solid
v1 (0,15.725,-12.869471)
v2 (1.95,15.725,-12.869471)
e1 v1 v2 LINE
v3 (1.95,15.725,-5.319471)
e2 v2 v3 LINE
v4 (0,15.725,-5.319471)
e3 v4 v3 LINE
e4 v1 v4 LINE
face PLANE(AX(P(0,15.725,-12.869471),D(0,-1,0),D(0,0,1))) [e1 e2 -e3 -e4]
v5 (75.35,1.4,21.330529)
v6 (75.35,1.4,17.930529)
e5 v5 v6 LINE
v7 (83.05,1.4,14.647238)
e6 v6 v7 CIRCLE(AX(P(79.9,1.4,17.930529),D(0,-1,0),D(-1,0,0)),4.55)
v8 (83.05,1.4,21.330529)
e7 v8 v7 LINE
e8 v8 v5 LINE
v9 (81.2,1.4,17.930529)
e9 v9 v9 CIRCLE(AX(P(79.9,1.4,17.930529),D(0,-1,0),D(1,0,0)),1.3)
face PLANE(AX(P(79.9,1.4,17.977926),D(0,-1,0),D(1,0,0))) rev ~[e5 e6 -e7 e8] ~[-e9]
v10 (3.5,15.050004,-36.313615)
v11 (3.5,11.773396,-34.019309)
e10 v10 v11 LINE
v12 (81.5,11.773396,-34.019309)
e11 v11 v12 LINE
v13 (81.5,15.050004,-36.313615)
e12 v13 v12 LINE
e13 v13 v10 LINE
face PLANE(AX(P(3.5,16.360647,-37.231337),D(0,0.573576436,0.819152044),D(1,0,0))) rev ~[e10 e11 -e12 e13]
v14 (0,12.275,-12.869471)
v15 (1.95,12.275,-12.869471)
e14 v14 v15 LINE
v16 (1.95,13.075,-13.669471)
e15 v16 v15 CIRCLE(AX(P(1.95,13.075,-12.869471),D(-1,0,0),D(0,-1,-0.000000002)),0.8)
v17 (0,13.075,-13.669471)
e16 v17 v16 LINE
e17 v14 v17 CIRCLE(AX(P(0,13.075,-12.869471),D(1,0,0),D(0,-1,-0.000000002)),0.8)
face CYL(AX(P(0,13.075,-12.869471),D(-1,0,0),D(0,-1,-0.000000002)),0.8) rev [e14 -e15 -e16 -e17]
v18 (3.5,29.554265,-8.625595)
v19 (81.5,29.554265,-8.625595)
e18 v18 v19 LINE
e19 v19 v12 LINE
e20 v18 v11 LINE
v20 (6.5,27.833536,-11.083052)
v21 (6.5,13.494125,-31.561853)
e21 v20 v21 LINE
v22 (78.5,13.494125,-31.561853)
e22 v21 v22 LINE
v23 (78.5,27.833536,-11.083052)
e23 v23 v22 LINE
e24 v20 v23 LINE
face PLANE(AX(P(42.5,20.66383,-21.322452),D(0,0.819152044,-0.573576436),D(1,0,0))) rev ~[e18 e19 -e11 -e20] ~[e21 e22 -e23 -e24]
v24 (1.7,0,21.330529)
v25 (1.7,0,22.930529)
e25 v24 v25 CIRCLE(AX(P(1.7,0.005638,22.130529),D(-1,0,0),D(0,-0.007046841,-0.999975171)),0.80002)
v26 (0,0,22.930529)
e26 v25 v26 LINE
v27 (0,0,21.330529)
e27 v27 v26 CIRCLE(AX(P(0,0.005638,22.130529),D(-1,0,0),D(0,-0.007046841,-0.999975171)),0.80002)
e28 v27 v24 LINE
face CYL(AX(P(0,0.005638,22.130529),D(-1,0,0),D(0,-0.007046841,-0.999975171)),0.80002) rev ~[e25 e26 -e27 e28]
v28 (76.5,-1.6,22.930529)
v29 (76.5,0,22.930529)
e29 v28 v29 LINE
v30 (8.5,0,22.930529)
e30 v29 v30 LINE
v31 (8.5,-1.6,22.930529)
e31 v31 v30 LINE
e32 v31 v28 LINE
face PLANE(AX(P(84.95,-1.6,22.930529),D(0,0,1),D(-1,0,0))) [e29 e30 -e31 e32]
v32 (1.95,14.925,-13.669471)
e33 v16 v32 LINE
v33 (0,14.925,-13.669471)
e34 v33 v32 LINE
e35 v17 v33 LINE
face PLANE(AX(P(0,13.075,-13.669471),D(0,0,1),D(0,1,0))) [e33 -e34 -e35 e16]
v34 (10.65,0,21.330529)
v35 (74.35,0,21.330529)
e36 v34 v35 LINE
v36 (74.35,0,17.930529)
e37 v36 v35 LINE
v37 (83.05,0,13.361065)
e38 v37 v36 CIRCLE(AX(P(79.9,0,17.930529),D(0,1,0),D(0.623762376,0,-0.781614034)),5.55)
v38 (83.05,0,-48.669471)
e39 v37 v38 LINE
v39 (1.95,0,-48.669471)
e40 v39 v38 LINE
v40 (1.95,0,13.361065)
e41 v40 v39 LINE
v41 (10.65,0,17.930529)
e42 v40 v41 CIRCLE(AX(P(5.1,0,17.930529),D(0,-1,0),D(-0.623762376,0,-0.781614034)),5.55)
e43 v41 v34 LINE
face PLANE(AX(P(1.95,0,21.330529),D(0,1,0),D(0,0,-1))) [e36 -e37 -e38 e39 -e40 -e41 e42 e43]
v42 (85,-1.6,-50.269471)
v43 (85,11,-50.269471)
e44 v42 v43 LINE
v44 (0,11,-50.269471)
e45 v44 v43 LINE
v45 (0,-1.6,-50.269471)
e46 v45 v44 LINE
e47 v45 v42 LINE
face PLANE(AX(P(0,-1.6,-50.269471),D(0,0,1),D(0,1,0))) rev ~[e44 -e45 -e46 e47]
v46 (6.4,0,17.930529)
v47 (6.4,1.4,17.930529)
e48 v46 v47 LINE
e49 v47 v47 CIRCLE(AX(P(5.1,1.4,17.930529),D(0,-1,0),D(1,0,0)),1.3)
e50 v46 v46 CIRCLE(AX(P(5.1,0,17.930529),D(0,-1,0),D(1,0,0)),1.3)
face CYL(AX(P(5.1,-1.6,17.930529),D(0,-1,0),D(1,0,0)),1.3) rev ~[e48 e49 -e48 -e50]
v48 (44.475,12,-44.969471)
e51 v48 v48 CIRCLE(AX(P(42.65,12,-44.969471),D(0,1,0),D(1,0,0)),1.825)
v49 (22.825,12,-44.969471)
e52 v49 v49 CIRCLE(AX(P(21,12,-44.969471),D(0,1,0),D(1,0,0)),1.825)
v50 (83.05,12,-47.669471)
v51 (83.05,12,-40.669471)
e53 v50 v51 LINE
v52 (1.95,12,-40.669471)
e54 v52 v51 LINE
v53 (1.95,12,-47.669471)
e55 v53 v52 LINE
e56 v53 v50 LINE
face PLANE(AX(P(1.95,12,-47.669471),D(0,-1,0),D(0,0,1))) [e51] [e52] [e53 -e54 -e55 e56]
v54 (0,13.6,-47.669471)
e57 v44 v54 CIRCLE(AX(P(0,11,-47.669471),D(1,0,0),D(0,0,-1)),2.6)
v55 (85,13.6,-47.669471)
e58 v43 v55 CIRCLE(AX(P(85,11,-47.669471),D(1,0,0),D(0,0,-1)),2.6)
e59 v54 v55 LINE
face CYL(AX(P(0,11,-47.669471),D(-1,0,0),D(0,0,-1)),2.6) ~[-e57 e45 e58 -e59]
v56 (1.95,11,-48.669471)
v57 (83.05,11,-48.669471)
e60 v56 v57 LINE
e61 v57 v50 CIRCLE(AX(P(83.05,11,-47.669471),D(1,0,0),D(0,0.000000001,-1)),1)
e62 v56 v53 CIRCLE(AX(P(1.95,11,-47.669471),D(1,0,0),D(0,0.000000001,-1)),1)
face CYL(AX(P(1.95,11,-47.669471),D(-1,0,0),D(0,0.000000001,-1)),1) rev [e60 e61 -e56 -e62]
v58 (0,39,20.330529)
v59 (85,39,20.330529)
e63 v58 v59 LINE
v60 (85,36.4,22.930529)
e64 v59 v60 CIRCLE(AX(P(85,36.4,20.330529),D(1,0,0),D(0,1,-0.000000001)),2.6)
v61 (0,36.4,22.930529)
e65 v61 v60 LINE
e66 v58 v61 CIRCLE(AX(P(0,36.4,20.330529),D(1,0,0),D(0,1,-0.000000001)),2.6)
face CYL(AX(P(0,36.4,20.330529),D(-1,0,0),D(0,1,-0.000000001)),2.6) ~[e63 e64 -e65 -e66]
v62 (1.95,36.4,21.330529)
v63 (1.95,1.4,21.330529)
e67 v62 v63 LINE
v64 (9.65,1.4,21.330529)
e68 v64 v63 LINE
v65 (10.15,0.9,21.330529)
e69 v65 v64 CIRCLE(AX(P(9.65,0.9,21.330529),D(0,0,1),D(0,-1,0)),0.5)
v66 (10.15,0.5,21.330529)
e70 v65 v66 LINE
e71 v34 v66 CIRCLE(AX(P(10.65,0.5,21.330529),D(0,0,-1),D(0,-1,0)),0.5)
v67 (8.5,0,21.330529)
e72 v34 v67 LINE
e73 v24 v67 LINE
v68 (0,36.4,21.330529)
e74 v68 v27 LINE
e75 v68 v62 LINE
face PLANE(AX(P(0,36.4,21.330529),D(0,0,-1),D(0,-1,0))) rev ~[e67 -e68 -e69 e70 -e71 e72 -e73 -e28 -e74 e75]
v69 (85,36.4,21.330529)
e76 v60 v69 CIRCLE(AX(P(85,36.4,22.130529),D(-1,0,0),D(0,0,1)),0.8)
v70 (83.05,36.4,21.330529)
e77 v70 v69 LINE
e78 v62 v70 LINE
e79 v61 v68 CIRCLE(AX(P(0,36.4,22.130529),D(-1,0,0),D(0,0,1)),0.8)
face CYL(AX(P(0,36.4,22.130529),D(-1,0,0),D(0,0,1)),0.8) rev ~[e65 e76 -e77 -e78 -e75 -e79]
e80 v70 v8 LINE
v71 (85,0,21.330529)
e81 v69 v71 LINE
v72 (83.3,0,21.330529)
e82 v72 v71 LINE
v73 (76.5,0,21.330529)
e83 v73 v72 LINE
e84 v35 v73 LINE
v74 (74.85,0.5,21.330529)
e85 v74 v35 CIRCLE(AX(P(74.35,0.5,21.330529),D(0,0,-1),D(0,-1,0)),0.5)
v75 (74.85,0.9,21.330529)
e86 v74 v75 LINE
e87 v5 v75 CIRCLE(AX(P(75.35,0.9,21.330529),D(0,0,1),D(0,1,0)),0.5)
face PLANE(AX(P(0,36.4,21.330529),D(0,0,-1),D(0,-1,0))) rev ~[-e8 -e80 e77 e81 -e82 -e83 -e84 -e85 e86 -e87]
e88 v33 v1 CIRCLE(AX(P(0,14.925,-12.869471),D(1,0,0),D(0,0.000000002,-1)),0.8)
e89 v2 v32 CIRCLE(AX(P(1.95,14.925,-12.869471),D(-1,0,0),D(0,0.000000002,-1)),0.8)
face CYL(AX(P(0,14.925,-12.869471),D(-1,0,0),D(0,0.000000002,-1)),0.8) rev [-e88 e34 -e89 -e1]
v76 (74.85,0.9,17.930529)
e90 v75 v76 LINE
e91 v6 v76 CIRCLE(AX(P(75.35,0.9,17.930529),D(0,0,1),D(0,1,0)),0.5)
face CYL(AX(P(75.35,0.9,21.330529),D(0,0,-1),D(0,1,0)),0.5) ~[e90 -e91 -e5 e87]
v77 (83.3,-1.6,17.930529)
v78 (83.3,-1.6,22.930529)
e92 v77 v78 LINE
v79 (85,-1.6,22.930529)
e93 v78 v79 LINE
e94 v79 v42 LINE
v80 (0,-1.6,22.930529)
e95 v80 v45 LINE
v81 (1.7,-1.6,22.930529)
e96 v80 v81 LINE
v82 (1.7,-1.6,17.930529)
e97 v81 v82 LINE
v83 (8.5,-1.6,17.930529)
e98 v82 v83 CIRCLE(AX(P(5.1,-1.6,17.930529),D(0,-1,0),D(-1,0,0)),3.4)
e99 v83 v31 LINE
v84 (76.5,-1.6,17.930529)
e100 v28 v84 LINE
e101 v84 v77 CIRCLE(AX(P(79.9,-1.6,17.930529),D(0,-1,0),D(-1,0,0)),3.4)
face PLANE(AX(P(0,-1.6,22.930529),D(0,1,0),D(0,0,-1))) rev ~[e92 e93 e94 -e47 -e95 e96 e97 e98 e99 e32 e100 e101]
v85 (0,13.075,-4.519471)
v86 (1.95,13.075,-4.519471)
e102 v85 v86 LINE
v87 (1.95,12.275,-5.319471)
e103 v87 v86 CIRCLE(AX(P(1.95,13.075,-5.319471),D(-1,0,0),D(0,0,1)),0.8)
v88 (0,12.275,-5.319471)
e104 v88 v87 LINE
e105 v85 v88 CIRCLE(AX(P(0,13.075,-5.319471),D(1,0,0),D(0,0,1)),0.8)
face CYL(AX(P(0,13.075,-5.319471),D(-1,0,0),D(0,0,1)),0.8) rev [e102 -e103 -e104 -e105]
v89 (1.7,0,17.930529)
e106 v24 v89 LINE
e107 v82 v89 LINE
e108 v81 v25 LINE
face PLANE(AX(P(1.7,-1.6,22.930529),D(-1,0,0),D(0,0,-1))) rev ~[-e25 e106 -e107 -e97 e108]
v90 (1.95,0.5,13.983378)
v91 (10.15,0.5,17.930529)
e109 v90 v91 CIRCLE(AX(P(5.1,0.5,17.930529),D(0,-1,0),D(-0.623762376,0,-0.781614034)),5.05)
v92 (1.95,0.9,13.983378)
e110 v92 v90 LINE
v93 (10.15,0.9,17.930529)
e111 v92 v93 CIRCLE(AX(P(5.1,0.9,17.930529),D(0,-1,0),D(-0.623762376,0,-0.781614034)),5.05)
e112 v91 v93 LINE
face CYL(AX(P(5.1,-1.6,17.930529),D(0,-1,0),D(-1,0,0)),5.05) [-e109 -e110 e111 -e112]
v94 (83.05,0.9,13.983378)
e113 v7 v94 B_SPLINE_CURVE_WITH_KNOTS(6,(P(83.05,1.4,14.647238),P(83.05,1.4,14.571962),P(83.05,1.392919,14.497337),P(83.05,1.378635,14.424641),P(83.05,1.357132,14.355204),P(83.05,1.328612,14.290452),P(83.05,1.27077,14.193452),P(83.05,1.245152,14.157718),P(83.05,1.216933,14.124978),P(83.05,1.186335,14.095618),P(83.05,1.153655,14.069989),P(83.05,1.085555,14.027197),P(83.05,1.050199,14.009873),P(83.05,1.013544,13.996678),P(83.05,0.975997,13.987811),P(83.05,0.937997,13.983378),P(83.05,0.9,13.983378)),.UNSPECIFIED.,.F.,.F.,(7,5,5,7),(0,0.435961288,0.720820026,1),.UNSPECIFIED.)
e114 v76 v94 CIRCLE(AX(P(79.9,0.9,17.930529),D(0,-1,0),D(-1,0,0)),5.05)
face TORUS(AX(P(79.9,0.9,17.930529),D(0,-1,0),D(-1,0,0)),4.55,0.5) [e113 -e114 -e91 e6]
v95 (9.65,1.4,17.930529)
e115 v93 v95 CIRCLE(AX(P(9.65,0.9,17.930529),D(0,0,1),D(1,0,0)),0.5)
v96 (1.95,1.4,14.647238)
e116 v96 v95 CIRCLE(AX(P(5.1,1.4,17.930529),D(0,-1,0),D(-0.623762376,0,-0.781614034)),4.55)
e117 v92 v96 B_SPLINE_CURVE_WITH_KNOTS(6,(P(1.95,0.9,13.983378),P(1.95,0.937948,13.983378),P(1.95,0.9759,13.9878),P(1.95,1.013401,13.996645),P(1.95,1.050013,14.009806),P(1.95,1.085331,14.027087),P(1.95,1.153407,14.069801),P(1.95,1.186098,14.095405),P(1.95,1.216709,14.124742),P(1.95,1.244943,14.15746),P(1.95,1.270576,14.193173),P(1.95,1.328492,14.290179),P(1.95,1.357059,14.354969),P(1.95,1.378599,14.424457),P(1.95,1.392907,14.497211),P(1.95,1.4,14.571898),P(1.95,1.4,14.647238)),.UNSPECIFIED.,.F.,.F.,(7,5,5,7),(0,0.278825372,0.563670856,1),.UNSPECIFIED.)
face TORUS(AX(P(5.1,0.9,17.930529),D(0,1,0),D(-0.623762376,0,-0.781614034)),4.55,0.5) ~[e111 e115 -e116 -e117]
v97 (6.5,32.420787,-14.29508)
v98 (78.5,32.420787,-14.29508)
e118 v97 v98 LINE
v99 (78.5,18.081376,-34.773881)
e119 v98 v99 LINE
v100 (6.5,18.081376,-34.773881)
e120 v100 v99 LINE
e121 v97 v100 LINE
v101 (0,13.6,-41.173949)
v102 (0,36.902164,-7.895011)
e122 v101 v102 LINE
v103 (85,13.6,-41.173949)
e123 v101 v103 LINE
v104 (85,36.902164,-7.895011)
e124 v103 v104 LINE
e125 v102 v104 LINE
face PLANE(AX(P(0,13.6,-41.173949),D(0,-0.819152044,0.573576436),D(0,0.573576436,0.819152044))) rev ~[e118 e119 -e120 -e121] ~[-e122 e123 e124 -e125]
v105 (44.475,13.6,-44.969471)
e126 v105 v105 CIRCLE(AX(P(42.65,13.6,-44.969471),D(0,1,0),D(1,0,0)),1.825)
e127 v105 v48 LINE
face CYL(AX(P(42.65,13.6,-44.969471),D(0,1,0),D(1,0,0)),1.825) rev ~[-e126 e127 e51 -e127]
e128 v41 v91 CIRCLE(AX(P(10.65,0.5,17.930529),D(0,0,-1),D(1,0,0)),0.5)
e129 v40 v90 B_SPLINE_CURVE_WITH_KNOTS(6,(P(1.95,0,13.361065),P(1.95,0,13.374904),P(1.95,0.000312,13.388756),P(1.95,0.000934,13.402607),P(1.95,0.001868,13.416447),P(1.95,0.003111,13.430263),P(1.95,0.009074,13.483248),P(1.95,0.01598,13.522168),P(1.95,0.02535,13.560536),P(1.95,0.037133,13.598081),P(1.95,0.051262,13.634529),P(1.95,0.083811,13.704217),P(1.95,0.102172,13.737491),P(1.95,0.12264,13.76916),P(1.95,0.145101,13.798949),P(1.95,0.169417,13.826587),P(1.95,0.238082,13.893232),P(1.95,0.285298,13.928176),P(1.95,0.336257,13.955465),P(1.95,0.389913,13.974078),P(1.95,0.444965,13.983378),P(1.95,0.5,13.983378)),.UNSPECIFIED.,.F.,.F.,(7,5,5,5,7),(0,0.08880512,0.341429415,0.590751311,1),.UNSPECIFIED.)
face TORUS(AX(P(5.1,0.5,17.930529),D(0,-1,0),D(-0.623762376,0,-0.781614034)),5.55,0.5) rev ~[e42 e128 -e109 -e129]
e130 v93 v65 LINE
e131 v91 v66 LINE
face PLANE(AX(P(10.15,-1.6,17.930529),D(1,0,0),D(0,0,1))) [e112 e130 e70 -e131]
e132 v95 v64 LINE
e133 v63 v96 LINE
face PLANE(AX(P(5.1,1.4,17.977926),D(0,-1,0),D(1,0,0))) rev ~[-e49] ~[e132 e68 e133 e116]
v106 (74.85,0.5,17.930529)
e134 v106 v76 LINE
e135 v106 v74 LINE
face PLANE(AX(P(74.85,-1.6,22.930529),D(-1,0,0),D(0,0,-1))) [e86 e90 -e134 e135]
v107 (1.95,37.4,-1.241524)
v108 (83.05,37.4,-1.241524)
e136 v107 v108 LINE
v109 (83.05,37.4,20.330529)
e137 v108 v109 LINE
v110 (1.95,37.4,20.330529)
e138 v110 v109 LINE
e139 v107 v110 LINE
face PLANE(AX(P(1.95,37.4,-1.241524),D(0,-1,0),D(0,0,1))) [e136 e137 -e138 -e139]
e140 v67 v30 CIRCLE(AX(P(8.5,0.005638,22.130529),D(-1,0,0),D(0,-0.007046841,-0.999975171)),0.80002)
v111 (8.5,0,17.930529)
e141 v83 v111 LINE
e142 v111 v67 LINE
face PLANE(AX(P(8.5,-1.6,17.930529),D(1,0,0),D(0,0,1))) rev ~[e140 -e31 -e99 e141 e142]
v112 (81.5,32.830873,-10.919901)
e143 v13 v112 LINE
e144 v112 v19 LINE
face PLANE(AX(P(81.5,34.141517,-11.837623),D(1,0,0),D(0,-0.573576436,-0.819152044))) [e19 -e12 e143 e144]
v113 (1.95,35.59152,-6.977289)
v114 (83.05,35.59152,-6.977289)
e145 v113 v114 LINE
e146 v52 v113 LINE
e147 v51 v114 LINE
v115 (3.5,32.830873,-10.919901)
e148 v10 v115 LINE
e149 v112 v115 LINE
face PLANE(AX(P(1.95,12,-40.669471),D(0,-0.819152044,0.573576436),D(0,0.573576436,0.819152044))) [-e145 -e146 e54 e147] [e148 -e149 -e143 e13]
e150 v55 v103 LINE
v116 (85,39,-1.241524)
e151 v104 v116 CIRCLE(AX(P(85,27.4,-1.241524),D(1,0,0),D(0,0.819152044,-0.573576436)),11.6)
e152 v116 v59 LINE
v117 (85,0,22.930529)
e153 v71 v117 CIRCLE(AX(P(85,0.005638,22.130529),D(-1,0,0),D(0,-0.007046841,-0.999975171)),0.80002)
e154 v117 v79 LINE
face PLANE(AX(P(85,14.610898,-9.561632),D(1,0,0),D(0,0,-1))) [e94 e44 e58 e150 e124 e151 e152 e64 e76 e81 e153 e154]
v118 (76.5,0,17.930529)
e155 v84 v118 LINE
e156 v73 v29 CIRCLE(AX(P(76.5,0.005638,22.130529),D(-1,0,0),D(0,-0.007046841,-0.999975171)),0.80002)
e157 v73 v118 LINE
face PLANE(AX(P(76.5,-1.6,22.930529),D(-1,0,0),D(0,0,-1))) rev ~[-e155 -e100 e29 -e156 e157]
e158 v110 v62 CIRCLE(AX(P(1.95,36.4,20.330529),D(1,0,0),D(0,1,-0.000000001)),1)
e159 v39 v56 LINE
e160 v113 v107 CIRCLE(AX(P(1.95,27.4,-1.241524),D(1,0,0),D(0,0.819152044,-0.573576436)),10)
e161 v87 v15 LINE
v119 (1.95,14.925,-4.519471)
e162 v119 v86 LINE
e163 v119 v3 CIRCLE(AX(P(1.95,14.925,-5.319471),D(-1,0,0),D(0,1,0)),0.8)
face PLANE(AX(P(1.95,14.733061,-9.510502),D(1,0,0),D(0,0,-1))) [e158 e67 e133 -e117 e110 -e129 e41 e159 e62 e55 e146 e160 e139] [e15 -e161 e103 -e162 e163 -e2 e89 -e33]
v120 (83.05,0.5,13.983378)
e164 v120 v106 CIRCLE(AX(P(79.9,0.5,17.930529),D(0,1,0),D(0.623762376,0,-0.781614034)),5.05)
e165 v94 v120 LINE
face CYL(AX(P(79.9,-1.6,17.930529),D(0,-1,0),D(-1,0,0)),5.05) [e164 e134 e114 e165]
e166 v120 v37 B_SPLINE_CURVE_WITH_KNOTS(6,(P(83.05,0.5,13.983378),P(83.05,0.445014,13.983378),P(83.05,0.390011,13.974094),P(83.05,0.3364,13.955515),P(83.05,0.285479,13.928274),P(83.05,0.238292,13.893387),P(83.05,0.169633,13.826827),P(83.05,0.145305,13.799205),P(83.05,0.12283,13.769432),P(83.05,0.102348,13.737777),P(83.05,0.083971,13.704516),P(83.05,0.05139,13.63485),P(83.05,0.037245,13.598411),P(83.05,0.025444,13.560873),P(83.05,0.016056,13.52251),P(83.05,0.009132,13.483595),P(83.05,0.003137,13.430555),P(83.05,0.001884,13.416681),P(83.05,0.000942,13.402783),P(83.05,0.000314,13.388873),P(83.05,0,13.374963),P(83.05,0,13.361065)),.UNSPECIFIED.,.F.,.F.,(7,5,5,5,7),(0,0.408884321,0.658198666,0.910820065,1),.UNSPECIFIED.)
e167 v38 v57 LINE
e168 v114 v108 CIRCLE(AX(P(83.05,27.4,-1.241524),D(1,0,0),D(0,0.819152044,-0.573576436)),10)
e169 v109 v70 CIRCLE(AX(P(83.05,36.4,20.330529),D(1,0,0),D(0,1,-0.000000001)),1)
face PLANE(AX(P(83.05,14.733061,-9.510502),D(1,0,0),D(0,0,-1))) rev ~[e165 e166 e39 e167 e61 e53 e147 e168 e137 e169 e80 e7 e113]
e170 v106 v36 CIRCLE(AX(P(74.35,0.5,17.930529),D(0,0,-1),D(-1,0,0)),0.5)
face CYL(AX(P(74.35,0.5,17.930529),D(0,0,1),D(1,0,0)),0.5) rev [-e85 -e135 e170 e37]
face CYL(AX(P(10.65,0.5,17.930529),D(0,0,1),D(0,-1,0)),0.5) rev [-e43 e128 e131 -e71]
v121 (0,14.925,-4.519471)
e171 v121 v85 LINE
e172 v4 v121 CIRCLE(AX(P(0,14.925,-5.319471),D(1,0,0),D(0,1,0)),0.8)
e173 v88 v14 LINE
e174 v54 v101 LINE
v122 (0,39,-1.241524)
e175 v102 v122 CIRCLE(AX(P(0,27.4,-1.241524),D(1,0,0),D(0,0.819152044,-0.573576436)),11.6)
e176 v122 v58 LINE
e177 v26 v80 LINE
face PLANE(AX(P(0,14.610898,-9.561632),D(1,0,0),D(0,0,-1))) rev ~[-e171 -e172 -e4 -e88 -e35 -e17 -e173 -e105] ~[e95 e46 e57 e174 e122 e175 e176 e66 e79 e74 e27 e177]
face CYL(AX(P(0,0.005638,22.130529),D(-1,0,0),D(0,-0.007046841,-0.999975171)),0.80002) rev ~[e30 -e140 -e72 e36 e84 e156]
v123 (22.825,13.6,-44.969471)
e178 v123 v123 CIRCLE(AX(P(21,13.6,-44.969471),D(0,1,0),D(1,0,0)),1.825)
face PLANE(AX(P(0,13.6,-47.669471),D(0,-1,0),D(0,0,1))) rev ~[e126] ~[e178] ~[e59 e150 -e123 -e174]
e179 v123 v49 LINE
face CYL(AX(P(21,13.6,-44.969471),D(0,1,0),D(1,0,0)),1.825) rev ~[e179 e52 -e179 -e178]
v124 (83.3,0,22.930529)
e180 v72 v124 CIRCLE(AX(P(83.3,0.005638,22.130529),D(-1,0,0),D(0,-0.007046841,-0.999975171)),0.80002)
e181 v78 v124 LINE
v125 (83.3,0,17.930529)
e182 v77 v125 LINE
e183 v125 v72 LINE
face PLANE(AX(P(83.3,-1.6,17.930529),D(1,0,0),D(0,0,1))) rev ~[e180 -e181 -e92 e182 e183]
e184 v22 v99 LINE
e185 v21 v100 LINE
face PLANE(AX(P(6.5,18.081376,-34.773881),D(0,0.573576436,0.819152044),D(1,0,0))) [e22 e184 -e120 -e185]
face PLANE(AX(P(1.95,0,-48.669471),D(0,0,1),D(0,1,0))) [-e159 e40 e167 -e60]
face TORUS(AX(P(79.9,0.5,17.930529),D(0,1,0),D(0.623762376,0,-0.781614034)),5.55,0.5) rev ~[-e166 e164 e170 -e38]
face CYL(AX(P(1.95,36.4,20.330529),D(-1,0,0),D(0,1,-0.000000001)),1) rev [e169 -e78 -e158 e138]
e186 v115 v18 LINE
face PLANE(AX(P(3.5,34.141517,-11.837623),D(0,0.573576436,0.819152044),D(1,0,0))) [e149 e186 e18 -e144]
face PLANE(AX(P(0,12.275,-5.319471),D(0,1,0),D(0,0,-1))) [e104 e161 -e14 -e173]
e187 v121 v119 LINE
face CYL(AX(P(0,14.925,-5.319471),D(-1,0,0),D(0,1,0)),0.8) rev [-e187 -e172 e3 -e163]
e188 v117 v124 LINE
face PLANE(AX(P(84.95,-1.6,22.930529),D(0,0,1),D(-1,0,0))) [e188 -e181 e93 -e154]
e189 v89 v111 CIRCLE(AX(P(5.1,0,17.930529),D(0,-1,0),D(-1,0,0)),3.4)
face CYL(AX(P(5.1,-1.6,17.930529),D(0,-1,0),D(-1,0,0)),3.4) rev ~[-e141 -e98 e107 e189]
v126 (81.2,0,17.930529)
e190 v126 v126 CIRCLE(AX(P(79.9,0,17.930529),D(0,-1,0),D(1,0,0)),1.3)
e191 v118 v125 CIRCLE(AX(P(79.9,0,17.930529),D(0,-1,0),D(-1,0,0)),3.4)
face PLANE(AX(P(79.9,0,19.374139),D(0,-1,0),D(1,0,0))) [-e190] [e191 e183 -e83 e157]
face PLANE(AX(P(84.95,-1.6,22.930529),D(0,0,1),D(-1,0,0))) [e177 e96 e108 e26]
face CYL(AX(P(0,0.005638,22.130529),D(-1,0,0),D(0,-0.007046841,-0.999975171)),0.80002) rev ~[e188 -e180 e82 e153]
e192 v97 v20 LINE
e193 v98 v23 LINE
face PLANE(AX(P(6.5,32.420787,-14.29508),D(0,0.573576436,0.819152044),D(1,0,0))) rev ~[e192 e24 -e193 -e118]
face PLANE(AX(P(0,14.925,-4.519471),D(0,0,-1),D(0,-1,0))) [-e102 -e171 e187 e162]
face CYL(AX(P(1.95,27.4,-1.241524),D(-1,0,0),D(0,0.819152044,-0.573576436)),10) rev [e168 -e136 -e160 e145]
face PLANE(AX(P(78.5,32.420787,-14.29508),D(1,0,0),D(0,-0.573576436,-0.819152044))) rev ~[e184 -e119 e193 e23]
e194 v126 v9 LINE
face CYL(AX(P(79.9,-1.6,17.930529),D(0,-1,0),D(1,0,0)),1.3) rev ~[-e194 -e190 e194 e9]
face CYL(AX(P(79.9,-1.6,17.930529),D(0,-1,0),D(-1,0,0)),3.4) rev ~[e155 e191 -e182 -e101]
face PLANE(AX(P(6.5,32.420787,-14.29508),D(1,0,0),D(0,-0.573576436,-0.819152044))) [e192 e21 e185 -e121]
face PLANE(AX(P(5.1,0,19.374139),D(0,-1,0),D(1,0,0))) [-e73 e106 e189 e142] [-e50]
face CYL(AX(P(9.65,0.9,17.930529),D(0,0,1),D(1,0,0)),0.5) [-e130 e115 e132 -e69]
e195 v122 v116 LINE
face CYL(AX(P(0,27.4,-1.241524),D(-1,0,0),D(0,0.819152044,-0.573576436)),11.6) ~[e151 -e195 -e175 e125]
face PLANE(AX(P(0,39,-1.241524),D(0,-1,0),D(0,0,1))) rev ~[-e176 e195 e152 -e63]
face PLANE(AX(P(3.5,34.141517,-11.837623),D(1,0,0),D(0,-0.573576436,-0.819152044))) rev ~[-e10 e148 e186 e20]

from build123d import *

# Parameters (mm, degrees)
BOSS_EXTRUDE1_DEPTH = 85
CUT_EXTRUDE1_START  = 1.95
CUT_EXTRUDE1_DEPTH  = 81.1
CUT_EXTRUDE5_REACH  = 51.22
SKETCH5_W           = 72
SKETCH5_H           = 25
SKETCH5_3_W         = 78
SKETCH5_3_H         = 31
SKETCH5_3_W_2       = 72
SKETCH5_3_H_2       = 25
BOSS_EXTRUDE3_DEPTH = 5.6
SKETCH6_R           = 1.825
CUT_EXTRUDE6_DEPTH  = 13.6
CUT_EXTRUDE7_REACH  = 87
SKETCH12_R          = 1.5
CUT_EXTRUDE10_DEPTH = 1.6
SKETCH12_5_R        = 1.5
SKETCH12_5_R_2      = 1.3
BOSS_EXTRUDE7_DEPTH = 3
SKETCH12_6_R        = 1.5
SKETCH12_6_R_2      = 1.3
CUT_EXTRUDE11_DEPTH = 1.6
CUT_EXTRUDE8_REACH  = 87
FILLET2_R           = 0.5


with BuildPart() as part:
    # Sketch1 → Boss-Extrude1 (new body)
    with BuildSketch(Plane(origin=(0, 0, 0), x_dir=(0, 0, -1), z_dir=(1, 0, 0))):
        with BuildLine():
            Line((-22.930528586, 36.4), (-22.930528586, -1.6))
            Line((-22.930528586, -1.6), (50.269471414, -1.6))
            Line((50.269471414, -1.6), (50.269471414, 11))
            ThreePointArc((50.269471414, 11), (49.507949045, 12.838477631), (47.669471414, 13.6))
            Line((47.669471414, 13.6), (41.173949476, 13.6))
            Line((41.173949476, 13.6), (7.895010815, 36.902163714))
            ThreePointArc((7.895010815, 36.902163714), (4.729711428, 38.463116629), (1.241524153, 39))
            Line((1.241524153, 39), (-20.330528586, 39))
            ThreePointArc((-20.330528586, 39), (-22.169006218, 38.238477631), (-22.930528586, 36.4))
        make_face()
    extrude(amount=BOSS_EXTRUDE1_DEPTH)

    # Sketch1_3 → Cut-Extrude1 (cut)
    with BuildSketch(Plane(origin=(0, 0, 0), x_dir=(0, 0, -1), z_dir=(1, 0, 0)).offset(CUT_EXTRUDE1_START)):
        with BuildLine():
            Line((48.669471414, 0), (48.669471414, 11))
            ThreePointArc((48.669471414, 11), (48.376578195, 11.707106781), (47.669471414, 12))
            Line((47.669471414, 12), (40.669471414, 12))
            Line((40.669471414, 12), (6.977288517, 35.591520443))
            ThreePointArc((6.977288517, 35.591520443), (4.248582149, 36.937169507), (1.241524153, 37.4))
            Line((1.241524153, 37.4), (-20.330528586, 37.4))
            ThreePointArc((-20.330528586, 37.4), (-21.037635368, 37.107106781), (-21.330528586, 36.4))
            Line((-21.330528586, 36.4), (-21.330528586, 0))
            Line((-21.330528586, 0), (48.669471414, 0))
        make_face()
    extrude(amount=CUT_EXTRUDE1_DEPTH, mode=Mode.SUBTRACT)

    # Sketch5 → Cut-Extrude5 (cut, up to next)
    with BuildSketch(Plane(origin=(0, 28.47116522, -19.935724509), x_dir=(1, 0, 0), z_dir=(0, 0.819152044, -0.573576436)), mode=Mode.PRIVATE) as cut_extrude5_sk1:
        with Locations((42.5, 5.614044021)):
            Rectangle(SKETCH5_W, SKETCH5_H)
    cut_extrude5_tool1 = extrude(cut_extrude5_sk1.sketch, amount=-CUT_EXTRUDE5_REACH, mode=Mode.PRIVATE) & part.part
    add(cut_extrude5_tool1.solids().sort_by_distance((42.5, 25.251082, -24.53448))[0], mode=Mode.SUBTRACT)

    # Sketch5_3 → Boss-Extrude3 (add)
    with BuildSketch(Plane(origin=(0, 28.47116522, -19.935724509), x_dir=(1, 0, 0), z_dir=(0, 0.819152044, -0.573576436))):
        with Locations((42.5, 5.614044021)):
            Rectangle(SKETCH5_3_W, SKETCH5_3_H)
        with Locations((42.5, 5.614044021)):
            Rectangle(SKETCH5_3_W_2, SKETCH5_3_H_2, mode=Mode.SUBTRACT)
    extrude(amount=-BOSS_EXTRUDE3_DEPTH)

    # Sketch6 → Cut-Extrude6 (cut)
    with BuildSketch(Plane(origin=(0, 13.6, 0), x_dir=(1, 0, 0), z_dir=(0, 1, 0))):
        with Locations((21, 44.969471414)):
            Circle(SKETCH6_R)
        with Locations((42.65, 44.969471414)):
            Circle(SKETCH6_R)
    extrude(amount=-CUT_EXTRUDE6_DEPTH, mode=Mode.SUBTRACT)

    # Sketch7 → Cut-Extrude7 (cut, up to next)
    with BuildSketch(Plane.ZY, mode=Mode.PRIVATE) as cut_extrude7_sk1:
        with BuildLine():
            Line((-12.869471414, 15.725), (-5.319471414, 15.725))
            ThreePointArc((-5.319471414, 15.725), (-4.753785989, 15.490685425), (-4.519471414, 14.925))
            Line((-4.519471414, 14.925), (-4.519471414, 13.075))
            ThreePointArc((-4.519471414, 13.075), (-4.753785989, 12.509314575), (-5.319471414, 12.275))
            Line((-5.319471414, 12.275), (-12.869471414, 12.275))
            ThreePointArc((-12.869471414, 12.275), (-13.435156838, 12.509314575), (-13.669471414, 13.075))
            Line((-13.669471414, 13.075), (-13.669471414, 14.925))
            ThreePointArc((-13.669471414, 14.925), (-13.435156838, 15.490685425), (-12.869471414, 15.725))
        make_face()
    cut_extrude7_tool1 = extrude(cut_extrude7_sk1.sketch, amount=-CUT_EXTRUDE7_REACH, mode=Mode.PRIVATE) & part.part
    add(cut_extrude7_tool1.solids().sort_by_distance((0, 14, -9.094471))[0], mode=Mode.SUBTRACT)

    # Sketch12 → Cut-Extrude10 (cut)
    with BuildSketch(Plane.XZ.offset(1.6)):
        with Locations((79.9, 17.930528586)):
            Circle(SKETCH12_R)
        with Locations((5.1, 17.930528586)):
            Circle(SKETCH12_R)
    extrude(amount=-CUT_EXTRUDE10_DEPTH, mode=Mode.SUBTRACT)

    # Sketch12_5 → Boss-Extrude7 (add)
    with BuildSketch(Plane.XZ.offset(1.6)):
        with BuildLine():
            ThreePointArc((83.3, 17.930528586), (79.9, 14.530528586), (76.5, 17.930528586))
            Line((76.5, 17.930528586), (76.5, 22.930528586))
            Line((76.5, 22.930528586), (74.85, 22.930528586))
            Line((74.85, 22.930528586), (74.85, 17.930528586))
            ThreePointArc((74.85, 17.930528586), (79.9, 12.880528586), (84.95, 17.930528586))
            Line((84.95, 17.930528586), (84.95, 22.930528586))
            Line((84.95, 22.930528586), (83.3, 22.930528586))
            Line((83.3, 22.930528586), (83.3, 17.930528586))
        make_face()
        with BuildLine():
            Line((76.5, 22.930528586), (76.5, 17.930528586))
            ThreePointArc((76.5, 17.930528586), (79.9, 14.530528586), (83.3, 17.930528586))
            Line((83.3, 17.930528586), (83.3, 22.930528586))
            Line((83.3, 22.930528586), (76.5, 22.930528586))
        make_face()
        with Locations((79.9, 17.930528586)):
            Circle(SKETCH12_5_R, mode=Mode.SUBTRACT)
        with Locations((79.9, 17.930528586)):
            Circle(SKETCH12_5_R)
        with Locations((79.9, 17.930528586)):
            Circle(SKETCH12_5_R_2, mode=Mode.SUBTRACT)
        with BuildLine():
            Line((10.15, 17.930528586), (10.15, 22.930528586))
            Line((10.15, 22.930528586), (8.5, 22.930528586))
            Line((8.5, 22.930528586), (8.5, 17.930528586))
            ThreePointArc((8.5, 17.930528586), (5.1, 14.530528586), (1.7, 17.930528586))
            Line((1.7, 17.930528586), (1.7, 22.930528586))
            Line((1.7, 22.930528586), (0.05, 22.930528586))
            Line((0.05, 22.930528586), (0.05, 17.930528586))
            ThreePointArc((0.05, 17.930528586), (5.1, 12.880528586), (10.15, 17.930528586))
        make_face()
        with BuildLine():
            Line((8.5, 17.930528586), (8.5, 22.930528586))
            Line((8.5, 22.930528586), (1.7, 22.930528586))
            Line((1.7, 22.930528586), (1.7, 17.930528586))
            ThreePointArc((1.7, 17.930528586), (5.1, 14.530528586), (8.5, 17.930528586))
        make_face()
        with Locations((5.1, 17.930528586)):
            Circle(SKETCH12_5_R, mode=Mode.SUBTRACT)
        with Locations((5.1, 17.930528586)):
            Circle(SKETCH12_5_R)
        with Locations((5.1, 17.930528586)):
            Circle(SKETCH12_5_R_2, mode=Mode.SUBTRACT)
    extrude(amount=-BOSS_EXTRUDE7_DEPTH)

    # Sketch12_6 → Cut-Extrude11 (cut)
    with BuildSketch(Plane.XZ.offset(1.6)):
        with BuildLine():
            Line((8.5, 17.930528586), (8.5, 22.930528586))
            Line((8.5, 22.930528586), (1.7, 22.930528586))
            Line((1.7, 22.930528586), (1.7, 17.930528586))
            ThreePointArc((1.7, 17.930528586), (5.1, 14.530528586), (8.5, 17.930528586))
        make_face()
        with Locations((5.1, 17.930528586)):
            Circle(SKETCH12_6_R, mode=Mode.SUBTRACT)
        with BuildLine():
            Line((76.5, 22.930528586), (76.5, 17.930528586))
            ThreePointArc((76.5, 17.930528586), (79.9, 14.530528586), (83.3, 17.930528586))
            Line((83.3, 17.930528586), (83.3, 22.930528586))
            Line((83.3, 22.930528586), (76.5, 22.930528586))
        make_face()
        with Locations((79.9, 17.930528586)):
            Circle(SKETCH12_6_R, mode=Mode.SUBTRACT)
        with Locations((79.9, 17.930528586)):
            Circle(SKETCH12_6_R)
        with Locations((79.9, 17.930528586)):
            Circle(SKETCH12_6_R_2, mode=Mode.SUBTRACT)
        with Locations((5.1, 17.930528586)):
            Circle(SKETCH12_6_R)
        with Locations((5.1, 17.930528586)):
            Circle(SKETCH12_6_R_2, mode=Mode.SUBTRACT)
    extrude(amount=-CUT_EXTRUDE11_DEPTH, mode=Mode.SUBTRACT)

    # Sketch9 → Cut-Extrude8 (cut, up to next)
    with BuildSketch(Plane(origin=(0, 0, 0), x_dir=(0, 0, -1), z_dir=(1, 0, 0)), mode=Mode.PRIVATE) as cut_extrude8_sk1:
        with BuildLine():
            Line((-21.330528586, 35.411275227), (-21.330528586, 0))
            ThreePointArc((-21.330528586, 0), (-22.1361662, -0.794362387), (-22.930528586, 0.011275227))
            Line((-22.930528586, 0.011275227), (-22.930528586, 36.4))
            ThreePointArc((-22.930528586, 36.4), (-22.130528586, 37.2), (-21.330528586, 36.4))
            Line((-21.330528586, 36.4), (-21.330528586, 35.411275227))
        make_face()
    cut_extrude8_tool1 = extrude(cut_extrude8_sk1.sketch, amount=CUT_EXTRUDE8_REACH, mode=Mode.PRIVATE) & part.part
    add(cut_extrude8_tool1.solids().sort_by_distance((0, 18.202803, 22.130529))[0], mode=Mode.SUBTRACT)

    # Fillet2
    fillet2_edges = [part.edges().sort_by_distance(p)[0] for p in [
        (74.85, 0, 19.630528586),
        (77.709680389, 0, 13.380253869),
        (77.709680389, 1.4, 13.380253869),
        (74.85, 1.4, 19.630528586),
        (7.290319611, 0, 13.380253869),
        (10.15, 1.4, 19.630528586),
        (10.15, 0, 19.630528586),
        (7.290319611, 1.4, 13.380253869),
    ]]
    fillet(fillet2_edges, radius=FILLET2_R)


solid = part.part
